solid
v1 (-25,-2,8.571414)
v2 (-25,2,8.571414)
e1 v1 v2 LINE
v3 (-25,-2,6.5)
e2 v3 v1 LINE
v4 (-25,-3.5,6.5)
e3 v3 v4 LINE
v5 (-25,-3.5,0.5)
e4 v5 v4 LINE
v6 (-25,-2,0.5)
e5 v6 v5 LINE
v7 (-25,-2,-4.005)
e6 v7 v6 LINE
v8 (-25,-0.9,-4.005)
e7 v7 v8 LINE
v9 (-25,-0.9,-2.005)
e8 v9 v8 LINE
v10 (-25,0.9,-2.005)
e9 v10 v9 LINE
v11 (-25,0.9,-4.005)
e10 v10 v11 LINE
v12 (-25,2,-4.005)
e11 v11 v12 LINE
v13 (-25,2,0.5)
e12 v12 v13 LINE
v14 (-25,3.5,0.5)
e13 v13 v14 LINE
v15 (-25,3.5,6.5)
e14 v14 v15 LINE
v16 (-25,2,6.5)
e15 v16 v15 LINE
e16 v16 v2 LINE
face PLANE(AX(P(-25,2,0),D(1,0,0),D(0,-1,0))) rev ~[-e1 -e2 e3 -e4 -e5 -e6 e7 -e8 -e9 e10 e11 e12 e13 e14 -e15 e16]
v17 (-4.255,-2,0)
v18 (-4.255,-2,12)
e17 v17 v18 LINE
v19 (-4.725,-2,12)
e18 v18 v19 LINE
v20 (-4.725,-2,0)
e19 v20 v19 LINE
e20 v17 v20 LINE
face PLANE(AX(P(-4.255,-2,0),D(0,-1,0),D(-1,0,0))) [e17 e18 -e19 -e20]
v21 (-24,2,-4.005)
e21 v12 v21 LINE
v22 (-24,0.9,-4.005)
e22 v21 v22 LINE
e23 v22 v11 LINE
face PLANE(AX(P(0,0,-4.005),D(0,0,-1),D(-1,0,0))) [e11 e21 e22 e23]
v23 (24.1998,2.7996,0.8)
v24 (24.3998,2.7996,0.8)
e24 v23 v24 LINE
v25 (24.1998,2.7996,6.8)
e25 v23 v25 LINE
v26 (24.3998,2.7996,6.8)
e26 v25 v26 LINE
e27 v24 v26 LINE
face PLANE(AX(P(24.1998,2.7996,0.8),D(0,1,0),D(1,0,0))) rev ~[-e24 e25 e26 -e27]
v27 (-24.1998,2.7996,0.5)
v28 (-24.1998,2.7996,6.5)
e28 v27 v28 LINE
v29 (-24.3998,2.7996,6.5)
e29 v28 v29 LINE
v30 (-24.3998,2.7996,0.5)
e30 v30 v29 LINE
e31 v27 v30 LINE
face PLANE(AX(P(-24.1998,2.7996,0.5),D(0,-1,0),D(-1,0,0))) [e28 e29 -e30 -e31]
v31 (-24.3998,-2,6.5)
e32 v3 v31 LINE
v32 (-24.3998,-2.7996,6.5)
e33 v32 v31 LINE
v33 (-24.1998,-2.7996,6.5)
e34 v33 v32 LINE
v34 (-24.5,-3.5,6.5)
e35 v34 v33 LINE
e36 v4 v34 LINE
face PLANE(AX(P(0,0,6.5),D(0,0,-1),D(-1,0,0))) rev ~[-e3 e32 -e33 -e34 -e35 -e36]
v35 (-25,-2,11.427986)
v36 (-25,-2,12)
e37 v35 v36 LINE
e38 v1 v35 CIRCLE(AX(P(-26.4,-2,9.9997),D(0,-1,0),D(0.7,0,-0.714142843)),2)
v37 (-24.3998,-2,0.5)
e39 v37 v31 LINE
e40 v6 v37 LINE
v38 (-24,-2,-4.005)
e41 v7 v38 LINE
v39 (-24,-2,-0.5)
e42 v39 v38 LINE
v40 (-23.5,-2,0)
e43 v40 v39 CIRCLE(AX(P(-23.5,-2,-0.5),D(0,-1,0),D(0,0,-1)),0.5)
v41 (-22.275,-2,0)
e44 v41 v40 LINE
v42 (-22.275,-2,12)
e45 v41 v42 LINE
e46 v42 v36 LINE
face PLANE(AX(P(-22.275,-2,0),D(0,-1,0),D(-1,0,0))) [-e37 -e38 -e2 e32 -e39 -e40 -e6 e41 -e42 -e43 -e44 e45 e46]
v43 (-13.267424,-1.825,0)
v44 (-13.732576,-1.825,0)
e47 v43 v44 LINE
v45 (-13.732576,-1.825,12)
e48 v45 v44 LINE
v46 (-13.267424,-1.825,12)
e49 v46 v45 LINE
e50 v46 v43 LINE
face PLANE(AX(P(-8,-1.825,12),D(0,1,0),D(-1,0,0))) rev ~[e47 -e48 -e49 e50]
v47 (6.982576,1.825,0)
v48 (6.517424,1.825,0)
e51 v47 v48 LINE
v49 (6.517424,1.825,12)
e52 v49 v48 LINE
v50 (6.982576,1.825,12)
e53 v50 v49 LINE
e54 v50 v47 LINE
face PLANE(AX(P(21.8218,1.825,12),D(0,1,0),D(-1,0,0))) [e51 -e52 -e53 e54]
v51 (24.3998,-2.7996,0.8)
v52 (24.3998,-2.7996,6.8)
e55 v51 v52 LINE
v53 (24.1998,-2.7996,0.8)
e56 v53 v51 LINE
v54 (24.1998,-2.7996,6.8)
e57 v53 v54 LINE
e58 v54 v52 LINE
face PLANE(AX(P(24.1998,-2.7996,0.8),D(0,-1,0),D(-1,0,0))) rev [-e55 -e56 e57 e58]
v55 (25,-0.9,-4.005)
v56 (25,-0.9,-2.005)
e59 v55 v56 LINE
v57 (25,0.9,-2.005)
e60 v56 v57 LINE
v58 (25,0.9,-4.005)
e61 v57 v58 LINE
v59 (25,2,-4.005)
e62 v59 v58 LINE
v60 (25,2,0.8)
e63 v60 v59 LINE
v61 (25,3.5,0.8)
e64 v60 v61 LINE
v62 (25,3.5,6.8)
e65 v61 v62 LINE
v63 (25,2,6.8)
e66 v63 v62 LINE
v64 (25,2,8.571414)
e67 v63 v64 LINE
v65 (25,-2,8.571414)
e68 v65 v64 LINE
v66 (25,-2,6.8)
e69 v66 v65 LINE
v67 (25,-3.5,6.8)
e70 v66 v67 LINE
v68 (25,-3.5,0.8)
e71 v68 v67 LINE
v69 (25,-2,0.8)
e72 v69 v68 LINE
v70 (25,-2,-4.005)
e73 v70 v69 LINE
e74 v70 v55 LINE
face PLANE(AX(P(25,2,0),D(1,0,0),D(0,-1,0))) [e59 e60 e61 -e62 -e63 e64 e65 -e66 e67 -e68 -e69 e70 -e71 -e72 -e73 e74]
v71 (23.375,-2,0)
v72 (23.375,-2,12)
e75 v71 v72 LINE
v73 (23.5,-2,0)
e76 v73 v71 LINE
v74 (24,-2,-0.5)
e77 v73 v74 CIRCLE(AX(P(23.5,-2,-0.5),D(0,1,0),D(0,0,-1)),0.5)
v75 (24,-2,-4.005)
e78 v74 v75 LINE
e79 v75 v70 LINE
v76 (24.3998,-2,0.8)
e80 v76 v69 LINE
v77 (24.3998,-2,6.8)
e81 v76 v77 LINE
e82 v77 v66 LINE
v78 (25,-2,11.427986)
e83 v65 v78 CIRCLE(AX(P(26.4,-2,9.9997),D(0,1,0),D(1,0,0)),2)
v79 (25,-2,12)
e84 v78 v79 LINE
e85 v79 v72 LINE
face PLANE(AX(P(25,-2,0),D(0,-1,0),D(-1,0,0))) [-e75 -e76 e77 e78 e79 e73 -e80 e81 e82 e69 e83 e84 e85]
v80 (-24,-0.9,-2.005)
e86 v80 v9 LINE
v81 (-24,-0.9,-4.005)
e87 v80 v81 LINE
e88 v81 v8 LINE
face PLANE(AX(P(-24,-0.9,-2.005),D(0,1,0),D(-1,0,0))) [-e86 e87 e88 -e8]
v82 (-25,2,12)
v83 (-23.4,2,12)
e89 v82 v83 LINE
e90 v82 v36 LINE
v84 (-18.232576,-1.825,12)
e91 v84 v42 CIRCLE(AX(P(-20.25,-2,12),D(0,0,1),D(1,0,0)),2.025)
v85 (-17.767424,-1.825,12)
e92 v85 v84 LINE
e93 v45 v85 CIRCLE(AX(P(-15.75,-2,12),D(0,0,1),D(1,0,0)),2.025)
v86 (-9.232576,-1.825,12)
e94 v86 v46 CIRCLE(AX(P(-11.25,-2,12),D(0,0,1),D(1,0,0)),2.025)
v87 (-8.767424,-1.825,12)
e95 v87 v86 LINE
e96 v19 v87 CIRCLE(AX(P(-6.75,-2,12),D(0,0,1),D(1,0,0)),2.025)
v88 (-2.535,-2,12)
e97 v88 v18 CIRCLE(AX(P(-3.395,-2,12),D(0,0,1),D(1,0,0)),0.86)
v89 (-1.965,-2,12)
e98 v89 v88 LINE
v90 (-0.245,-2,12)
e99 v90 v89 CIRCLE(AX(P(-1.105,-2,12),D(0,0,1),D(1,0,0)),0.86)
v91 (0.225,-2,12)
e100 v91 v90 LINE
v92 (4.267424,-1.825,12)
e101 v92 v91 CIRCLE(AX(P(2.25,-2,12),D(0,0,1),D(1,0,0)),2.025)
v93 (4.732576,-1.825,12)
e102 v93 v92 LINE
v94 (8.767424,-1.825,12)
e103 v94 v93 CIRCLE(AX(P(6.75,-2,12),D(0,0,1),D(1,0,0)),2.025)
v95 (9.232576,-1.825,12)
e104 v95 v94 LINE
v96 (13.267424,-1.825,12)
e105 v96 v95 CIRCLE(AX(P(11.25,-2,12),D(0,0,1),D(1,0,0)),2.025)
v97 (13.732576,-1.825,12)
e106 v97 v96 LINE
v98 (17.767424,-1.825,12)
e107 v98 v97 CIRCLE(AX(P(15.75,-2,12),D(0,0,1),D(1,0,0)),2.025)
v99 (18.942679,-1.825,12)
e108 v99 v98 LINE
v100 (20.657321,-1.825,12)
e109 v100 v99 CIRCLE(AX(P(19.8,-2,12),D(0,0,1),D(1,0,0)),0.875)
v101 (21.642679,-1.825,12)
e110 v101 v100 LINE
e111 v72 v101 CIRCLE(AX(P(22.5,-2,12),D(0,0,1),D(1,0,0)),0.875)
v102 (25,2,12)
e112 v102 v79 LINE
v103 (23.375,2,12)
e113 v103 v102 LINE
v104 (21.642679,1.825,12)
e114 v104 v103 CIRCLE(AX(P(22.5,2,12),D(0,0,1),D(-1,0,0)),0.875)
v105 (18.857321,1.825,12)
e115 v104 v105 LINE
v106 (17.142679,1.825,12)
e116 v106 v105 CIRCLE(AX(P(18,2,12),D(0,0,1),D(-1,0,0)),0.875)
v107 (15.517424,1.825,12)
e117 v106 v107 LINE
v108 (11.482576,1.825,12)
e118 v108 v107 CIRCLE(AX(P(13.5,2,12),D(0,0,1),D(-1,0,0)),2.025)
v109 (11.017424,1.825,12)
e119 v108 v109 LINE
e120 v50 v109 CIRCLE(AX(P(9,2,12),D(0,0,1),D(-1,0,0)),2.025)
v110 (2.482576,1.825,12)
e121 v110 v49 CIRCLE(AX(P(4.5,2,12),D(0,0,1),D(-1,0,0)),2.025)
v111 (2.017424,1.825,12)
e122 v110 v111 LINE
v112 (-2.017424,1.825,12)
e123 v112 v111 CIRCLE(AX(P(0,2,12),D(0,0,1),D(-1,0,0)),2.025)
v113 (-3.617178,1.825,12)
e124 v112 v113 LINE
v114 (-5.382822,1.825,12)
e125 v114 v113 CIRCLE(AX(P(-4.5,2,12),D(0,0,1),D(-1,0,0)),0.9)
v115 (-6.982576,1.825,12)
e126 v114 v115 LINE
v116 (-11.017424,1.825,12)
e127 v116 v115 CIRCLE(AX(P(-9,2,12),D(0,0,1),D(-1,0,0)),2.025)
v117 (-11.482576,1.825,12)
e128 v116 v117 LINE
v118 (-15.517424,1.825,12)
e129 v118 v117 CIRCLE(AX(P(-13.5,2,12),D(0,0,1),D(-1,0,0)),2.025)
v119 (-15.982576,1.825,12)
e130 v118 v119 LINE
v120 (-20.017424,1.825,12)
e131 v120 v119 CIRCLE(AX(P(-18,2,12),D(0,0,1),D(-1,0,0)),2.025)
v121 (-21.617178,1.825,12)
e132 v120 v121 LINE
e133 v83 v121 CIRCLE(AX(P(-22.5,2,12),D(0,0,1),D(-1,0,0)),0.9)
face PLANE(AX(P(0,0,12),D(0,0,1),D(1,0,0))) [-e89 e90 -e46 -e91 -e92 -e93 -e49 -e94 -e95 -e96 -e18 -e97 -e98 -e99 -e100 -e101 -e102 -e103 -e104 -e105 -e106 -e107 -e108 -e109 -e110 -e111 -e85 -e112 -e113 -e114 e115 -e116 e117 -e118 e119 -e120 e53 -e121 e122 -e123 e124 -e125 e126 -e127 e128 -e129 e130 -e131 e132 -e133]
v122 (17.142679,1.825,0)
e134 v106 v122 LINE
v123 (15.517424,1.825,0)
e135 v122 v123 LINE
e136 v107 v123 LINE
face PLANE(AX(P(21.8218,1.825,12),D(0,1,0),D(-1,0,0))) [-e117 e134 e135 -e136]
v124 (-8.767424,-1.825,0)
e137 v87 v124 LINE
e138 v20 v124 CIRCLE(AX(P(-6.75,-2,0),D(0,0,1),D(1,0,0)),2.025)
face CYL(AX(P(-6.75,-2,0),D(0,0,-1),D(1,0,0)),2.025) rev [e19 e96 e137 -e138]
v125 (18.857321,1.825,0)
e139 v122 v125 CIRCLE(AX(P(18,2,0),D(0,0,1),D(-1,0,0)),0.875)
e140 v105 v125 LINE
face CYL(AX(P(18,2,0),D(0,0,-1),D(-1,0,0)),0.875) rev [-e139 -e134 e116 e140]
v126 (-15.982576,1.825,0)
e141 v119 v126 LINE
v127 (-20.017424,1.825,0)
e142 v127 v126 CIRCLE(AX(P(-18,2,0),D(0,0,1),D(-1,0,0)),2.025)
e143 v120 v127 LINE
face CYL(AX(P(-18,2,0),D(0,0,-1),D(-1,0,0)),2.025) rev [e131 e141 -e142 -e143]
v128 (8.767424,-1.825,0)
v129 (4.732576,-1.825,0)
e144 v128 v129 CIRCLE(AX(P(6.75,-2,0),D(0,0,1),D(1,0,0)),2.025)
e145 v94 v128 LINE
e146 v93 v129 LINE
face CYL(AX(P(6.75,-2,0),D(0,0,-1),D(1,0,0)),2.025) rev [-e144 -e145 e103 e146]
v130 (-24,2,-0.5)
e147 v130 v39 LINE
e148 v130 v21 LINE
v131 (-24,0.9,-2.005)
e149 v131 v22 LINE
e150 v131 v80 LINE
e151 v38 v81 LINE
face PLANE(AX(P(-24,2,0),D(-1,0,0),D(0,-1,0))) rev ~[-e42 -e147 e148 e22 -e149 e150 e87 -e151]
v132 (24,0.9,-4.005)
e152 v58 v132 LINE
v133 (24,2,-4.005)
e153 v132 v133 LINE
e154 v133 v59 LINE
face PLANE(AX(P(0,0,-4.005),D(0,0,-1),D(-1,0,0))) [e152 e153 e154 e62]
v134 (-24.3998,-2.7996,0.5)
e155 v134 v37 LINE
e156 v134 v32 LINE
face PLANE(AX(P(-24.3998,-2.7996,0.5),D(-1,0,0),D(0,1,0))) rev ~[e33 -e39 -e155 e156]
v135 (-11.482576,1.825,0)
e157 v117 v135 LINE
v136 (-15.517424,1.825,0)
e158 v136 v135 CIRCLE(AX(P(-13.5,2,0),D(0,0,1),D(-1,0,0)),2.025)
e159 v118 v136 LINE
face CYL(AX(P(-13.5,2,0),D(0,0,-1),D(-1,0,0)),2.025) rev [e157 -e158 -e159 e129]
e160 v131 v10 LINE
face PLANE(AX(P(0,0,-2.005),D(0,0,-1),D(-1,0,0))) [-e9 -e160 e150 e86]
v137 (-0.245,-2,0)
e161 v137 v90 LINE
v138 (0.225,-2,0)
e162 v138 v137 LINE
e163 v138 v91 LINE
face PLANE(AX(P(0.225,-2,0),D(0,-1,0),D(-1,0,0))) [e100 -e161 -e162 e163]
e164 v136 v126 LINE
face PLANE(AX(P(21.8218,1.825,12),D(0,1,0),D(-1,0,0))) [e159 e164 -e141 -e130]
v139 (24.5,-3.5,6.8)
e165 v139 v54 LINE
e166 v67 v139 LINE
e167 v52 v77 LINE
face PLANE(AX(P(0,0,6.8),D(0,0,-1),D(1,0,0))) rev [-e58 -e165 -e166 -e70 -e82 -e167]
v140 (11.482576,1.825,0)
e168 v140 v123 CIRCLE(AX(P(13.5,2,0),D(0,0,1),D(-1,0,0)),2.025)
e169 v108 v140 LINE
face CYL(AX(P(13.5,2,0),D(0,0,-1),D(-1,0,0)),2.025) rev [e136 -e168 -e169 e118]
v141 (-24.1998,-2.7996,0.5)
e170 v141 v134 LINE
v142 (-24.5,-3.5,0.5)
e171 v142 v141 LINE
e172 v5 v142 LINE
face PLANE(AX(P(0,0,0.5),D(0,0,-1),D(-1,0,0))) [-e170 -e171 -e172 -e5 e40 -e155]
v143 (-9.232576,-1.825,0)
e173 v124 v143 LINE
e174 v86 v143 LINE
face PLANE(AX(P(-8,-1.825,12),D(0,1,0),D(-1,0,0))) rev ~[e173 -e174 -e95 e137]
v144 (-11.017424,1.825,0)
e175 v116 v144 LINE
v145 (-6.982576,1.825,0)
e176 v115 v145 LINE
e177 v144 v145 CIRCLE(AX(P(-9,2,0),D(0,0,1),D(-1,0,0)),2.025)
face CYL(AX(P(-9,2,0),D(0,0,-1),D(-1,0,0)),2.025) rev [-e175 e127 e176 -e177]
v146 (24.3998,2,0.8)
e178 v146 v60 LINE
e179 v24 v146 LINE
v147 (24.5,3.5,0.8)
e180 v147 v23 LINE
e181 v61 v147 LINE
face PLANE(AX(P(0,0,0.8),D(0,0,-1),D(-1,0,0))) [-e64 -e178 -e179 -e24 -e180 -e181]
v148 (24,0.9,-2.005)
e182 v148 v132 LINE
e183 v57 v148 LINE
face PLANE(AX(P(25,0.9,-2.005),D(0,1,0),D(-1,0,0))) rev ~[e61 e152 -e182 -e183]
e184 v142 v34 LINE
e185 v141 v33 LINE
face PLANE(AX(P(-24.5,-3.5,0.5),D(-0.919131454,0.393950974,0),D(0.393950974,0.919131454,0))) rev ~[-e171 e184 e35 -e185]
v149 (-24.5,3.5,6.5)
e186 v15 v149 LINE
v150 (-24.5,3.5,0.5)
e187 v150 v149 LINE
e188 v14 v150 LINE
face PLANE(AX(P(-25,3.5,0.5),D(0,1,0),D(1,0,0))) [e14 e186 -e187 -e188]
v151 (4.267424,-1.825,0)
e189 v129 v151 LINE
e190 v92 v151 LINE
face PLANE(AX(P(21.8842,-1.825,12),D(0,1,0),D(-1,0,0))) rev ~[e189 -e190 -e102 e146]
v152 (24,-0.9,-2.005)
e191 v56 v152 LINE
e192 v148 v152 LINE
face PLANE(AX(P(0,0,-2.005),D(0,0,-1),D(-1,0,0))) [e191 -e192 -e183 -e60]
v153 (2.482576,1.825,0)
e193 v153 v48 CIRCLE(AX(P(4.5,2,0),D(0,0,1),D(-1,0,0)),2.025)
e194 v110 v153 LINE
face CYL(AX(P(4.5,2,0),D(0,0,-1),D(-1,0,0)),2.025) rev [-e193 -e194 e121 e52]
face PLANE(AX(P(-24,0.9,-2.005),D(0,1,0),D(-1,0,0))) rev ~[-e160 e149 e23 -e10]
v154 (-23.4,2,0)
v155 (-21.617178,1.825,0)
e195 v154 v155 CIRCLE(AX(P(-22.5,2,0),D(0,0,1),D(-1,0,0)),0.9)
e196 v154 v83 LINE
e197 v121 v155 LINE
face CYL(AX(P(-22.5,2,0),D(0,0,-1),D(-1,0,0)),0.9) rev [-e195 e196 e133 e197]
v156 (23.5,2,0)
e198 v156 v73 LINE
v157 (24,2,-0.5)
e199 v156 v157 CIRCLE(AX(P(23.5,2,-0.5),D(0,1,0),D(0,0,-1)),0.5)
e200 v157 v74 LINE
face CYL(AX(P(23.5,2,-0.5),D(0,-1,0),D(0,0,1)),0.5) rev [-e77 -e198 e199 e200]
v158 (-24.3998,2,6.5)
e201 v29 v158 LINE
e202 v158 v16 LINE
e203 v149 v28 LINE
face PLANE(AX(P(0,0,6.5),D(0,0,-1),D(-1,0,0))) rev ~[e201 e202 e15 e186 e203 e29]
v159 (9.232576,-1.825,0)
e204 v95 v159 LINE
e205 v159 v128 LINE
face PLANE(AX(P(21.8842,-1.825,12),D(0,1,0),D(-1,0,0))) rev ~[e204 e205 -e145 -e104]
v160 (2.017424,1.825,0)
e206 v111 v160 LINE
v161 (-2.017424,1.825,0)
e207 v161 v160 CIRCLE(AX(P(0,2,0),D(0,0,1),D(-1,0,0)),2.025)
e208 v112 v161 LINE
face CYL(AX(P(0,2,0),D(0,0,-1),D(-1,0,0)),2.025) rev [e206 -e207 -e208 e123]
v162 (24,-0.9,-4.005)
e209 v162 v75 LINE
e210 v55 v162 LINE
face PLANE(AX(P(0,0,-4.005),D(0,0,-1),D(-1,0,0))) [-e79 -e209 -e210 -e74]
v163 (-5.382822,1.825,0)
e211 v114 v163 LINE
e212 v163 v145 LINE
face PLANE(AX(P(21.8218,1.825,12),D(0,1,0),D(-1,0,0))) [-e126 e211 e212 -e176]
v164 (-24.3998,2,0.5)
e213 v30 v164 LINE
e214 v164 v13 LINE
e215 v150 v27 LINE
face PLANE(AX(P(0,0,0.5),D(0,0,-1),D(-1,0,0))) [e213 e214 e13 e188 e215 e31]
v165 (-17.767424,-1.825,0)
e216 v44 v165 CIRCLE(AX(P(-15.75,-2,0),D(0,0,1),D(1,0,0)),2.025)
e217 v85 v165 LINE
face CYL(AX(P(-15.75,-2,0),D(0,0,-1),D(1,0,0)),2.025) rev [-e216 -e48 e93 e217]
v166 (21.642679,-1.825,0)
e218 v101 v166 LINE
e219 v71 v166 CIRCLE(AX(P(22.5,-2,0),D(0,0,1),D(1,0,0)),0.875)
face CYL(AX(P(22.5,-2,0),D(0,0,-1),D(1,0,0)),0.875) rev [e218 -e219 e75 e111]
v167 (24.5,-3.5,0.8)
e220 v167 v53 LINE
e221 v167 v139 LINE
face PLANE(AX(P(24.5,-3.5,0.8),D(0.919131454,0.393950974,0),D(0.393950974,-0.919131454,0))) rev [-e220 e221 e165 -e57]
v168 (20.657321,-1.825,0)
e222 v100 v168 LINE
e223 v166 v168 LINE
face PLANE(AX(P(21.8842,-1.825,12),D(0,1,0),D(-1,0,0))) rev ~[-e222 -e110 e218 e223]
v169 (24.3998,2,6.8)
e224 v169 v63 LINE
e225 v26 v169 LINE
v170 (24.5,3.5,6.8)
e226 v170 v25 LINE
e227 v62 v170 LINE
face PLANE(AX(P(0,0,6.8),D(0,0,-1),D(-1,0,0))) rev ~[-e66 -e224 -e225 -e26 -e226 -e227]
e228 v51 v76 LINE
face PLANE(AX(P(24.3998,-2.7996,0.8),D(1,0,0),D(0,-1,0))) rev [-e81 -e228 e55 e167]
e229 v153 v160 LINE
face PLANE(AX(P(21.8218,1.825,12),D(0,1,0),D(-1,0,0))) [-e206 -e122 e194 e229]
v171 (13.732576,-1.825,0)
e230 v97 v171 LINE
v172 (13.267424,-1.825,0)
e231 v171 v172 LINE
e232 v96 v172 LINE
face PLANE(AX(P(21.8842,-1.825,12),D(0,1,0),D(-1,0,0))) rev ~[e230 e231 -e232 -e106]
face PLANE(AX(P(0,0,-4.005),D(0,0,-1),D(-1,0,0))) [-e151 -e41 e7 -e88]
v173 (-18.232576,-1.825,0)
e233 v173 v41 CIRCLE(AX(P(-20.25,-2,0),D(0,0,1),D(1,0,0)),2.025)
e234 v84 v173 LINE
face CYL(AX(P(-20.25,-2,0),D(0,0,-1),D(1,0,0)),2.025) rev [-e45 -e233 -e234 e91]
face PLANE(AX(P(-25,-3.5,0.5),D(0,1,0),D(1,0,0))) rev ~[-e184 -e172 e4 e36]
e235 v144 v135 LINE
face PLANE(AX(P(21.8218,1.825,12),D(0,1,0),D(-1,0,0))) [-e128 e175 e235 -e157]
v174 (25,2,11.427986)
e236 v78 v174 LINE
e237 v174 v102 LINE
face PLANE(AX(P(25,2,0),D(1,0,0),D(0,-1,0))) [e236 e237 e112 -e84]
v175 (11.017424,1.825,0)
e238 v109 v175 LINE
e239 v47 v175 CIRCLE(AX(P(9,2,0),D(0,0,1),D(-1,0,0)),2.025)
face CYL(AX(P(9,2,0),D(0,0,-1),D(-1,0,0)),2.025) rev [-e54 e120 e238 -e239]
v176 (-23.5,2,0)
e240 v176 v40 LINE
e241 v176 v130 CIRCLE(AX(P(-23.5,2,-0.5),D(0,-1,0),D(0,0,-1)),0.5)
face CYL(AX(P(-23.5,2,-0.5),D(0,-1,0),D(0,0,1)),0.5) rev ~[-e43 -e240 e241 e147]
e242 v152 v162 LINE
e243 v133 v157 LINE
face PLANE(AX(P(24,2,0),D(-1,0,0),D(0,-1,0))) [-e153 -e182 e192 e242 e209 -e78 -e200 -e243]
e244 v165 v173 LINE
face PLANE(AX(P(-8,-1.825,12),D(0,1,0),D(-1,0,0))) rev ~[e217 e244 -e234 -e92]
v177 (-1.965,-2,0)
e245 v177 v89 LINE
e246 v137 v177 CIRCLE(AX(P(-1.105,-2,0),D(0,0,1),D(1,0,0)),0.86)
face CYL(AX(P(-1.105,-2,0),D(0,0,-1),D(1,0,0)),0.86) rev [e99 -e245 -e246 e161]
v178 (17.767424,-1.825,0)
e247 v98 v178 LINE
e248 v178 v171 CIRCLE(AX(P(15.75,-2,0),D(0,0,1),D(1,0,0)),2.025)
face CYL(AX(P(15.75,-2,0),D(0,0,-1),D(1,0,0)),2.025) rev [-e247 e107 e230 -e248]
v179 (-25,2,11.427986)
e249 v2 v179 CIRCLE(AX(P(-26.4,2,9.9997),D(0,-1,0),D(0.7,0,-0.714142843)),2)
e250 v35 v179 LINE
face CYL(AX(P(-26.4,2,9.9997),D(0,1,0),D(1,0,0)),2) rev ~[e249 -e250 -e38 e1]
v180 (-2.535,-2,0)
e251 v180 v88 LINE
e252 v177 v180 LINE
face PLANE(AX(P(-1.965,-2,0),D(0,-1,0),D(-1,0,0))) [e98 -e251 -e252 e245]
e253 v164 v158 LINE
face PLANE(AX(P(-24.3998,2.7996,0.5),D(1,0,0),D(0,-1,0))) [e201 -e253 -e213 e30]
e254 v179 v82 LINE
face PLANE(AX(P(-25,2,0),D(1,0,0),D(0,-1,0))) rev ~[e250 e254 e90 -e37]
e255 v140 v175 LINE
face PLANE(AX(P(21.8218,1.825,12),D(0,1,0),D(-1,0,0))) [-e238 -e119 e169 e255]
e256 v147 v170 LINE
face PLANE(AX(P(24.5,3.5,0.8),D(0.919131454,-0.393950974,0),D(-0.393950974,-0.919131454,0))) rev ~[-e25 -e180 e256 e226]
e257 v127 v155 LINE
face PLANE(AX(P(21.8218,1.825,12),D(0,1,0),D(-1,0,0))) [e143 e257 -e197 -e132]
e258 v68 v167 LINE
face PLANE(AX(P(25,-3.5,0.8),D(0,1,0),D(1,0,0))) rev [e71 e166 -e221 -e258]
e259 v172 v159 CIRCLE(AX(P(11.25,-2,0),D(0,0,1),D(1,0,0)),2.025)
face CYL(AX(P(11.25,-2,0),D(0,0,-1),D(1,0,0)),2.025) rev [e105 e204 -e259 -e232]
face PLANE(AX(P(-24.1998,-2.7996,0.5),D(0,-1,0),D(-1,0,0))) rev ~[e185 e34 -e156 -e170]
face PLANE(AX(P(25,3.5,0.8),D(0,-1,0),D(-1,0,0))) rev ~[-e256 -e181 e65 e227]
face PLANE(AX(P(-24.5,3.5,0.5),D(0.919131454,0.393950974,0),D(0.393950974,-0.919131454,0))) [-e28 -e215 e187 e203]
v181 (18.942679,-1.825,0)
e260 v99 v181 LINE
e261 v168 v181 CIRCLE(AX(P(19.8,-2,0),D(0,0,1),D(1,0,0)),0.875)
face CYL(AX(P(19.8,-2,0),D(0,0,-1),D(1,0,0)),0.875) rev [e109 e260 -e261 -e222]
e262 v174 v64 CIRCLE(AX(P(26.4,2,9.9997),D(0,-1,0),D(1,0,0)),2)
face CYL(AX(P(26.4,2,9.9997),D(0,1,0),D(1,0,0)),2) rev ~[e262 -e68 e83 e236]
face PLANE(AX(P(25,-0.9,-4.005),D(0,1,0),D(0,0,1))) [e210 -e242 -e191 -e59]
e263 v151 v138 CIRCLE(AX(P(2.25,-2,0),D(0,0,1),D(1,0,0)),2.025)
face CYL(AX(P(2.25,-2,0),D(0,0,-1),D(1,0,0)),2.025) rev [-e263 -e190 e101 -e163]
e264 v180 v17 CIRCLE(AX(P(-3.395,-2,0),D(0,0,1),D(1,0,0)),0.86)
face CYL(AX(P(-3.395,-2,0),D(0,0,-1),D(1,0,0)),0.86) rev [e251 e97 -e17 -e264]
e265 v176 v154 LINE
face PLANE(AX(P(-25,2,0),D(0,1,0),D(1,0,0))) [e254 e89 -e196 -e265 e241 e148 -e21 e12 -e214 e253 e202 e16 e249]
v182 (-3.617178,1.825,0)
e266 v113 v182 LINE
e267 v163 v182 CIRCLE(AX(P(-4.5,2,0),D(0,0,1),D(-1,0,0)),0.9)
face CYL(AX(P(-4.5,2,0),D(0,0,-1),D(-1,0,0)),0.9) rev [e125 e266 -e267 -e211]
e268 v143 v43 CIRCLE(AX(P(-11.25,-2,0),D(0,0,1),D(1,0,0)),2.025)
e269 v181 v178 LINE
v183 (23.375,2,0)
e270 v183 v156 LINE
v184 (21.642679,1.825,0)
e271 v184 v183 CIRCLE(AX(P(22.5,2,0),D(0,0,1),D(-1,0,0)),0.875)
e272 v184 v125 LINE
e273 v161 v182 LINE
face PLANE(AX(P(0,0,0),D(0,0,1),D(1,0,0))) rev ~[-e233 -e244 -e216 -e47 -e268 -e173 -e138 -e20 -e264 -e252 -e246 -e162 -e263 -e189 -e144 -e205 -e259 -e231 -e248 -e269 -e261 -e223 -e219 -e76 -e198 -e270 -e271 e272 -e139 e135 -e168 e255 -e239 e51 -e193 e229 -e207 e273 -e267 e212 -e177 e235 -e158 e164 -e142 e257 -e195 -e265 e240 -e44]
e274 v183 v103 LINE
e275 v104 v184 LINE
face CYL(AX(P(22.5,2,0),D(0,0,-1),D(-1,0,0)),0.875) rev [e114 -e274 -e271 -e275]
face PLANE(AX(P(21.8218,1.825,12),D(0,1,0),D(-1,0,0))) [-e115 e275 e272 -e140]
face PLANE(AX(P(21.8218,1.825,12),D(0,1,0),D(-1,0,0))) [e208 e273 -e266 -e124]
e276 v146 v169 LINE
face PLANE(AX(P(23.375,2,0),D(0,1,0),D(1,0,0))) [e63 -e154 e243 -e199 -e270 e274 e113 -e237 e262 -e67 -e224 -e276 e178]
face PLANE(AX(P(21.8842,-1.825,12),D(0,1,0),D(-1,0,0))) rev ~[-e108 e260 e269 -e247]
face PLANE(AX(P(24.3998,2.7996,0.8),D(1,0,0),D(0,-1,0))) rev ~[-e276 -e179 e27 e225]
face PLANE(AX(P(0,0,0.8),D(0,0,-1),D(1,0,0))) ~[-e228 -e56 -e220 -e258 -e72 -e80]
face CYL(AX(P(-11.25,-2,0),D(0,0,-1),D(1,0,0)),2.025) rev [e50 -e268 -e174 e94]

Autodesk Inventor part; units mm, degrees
sketch "Sketch1" plane through (0, 0, 0) normal (0, 0, 1) x (1, 0, 0)
  line L0 (-25, 2) -> (-25, -2)
  line L1 (0, 0.3189) -> (0, -1.0844) construction
  line L2 (-25, 2) -> (25, 2)
  line L3 (25, 2) -> (25, -2)
  line L4 (25, -2) -> (-25, -2)
  line L5 (-1.8046, 0) -> (4.5195, 0) construction
  arc A0 (-23.4, 2) -> (-21.6, 2) centre (-22.5, 2) ccw
  arc A1 (-20.025, 2) -> (-15.975, 2) centre (-18, 2) ccw
  arc A2 (-15.525, 2) -> (-11.475, 2) centre (-13.5, 2) ccw
  arc A3 (-11.025, 2) -> (-6.975, 2) centre (-9, 2) ccw
  arc A4 (-5.4, 2) -> (-3.6, 2) centre (-4.5, 2) ccw
  arc A5 (-2.025, 2) -> (2.025, 2) centre (0, 2) ccw
  arc A6 (2.475, 2) -> (6.525, 2) centre (4.5, 2) ccw
  arc A7 (6.975, 2) -> (11.025, 2) centre (9, 2) ccw
  arc A8 (11.475, 2) -> (15.525, 2) centre (13.5, 2) ccw
  arc A9 (17.125, 2) -> (18.875, 2) centre (18, 2) ccw
  arc A10 (21.625, 2) -> (23.375, 2) centre (22.5, 2) ccw
  arc A11 (-18.225, -2) -> (-22.275, -2) centre (-20.25, -2) ccw
  arc A12 (-13.725, -2) -> (-17.775, -2) centre (-15.75, -2) ccw
  arc A13 (-9.225, -2) -> (-13.275, -2) centre (-11.25, -2) ccw
  arc A14 (-4.725, -2) -> (-8.775, -2) centre (-6.75, -2) ccw
  arc A15 (-2.535, -2) -> (-4.255, -2) centre (-3.395, -2) ccw
  arc A16 (-0.245, -2) -> (-1.965, -2) centre (-1.105, -2) ccw
  arc A17 (4.275, -2) -> (0.225, -2) centre (2.25, -2) ccw
  arc A18 (8.775, -2) -> (4.725, -2) centre (6.75, -2) ccw
  arc A19 (13.275, -2) -> (9.225, -2) centre (11.25, -2) ccw
  arc A20 (17.775, -2) -> (13.725, -2) centre (15.75, -2) ccw
  arc A21 (20.675, -2) -> (18.925, -2) centre (19.8, -2) ccw
  arc A22 (23.375, -2) -> (21.625, -2) centre (22.5, -2) ccw
  point P0 (0, 0)
  dimension "d0" = 4
  dimension "d1" = 50
  dimension "d2" = 2.5
  dimension "d3" = 4.5
  dimension "d4" = 4.5
  dimension "d5" = 4.5
  dimension "d6" = 4.5
  dimension "d7" = 4.5
  dimension "d8" = 4.5
  dimension "d10" = 4.5
  dimension "d11" = 4.5
  dimension "d12" = 4.5
  dimension "d13" = 4.5
  dimension "d14" = 1.8
  dimension "d15" = 4.05
  dimension "d16" = 4.05
  dimension "d17" = 4.05
  dimension "d18" = 1.8
  dimension "d19" = 4.05
  dimension "d20" = 4.05
  dimension "d21" = 4.05
  dimension "d22" = 4.05
  dimension "d23" = 1.75
  dimension "d24" = 1.75
  dimension "d25" = 4.05
  dimension "d27" = 4.5
  dimension "d28" = 4.5
  dimension "d29" = 4.5
  dimension "d30" = 3.355
  dimension "d31" = 2.29
  dimension "d32" = 3.355
  dimension "d33" = 4.5
  dimension "d34" = 4.5
  dimension "d35" = 4.5
  dimension "d37" = 1.75
  dimension "d38" = 4.05
  dimension "d39" = 4.05
  dimension "d40" = 4.05
  dimension "d41" = 4.05
  dimension "d42" = 1.72
  dimension "d43" = 1.72
  dimension "d44" = 4.05
  dimension "d45" = 4.05
  dimension "d46" = 4.05
  dimension "d47" = 1.75
  dimension "d48" = 2.7
  dimension "d136" = 2.5
  dimension "d143" = 4.05
extrude "Extrusion1" add sketch "Sketch1" along normal blind 12 contours L2 A0 A1 A2 A3 A4 A5 A6 A7 A8 A9 A10 L3 L4 A22 A21 A20 A19 A18 A17 A16 A15 A14 A13 A12 A11 L0
sketch "Sketch2" plane through (23.375, 2, 0) normal (0, 1, 0) x (1, 0, 0)
  circle A0 centre (3.025, -9.9997) radius 2
  line L0 (1.625, 0) -> (1.625, -12) projected
  line L1 (1.625, -12) -> (1.625, -11.428)
  point P0 (-23.375, 0)
  dimension "d51" = 4
  dimension "d52" = 0.572
  dimension "d55" = 1.4
extrude "Extrusion2" cut sketch "Sketch2" against normal blind 12.5
sketch "Sketch3" plane through (-25, 2, 0) normal (0, 1, 0) x (1, 0, 0)
  circle A0 centre (-1.4, -9.9997) radius 2
  line L0 (0, 0) -> (0, -12) projected
  line L1 (0, -12) -> (0, -11.428)
  point P0 (25, 0)
  dimension "d58" = 4
  dimension "d59" = 0.572
  dimension "d60" = 1.4
extrude "Extrusion3" cut sketch "Sketch3" against normal blind 12.5
sketch "Sketch4" plane through (0, 0, 12) normal (0, 0, 1) x (1, 0, 0)
  line L0 (-22.4782, 2) -> (21.8218, 2)
  line L1 (21.8218, 2) -> (21.8218, 1.825)
  line L2 (21.8218, 1.825) -> (-22.4782, 1.825)
  line L3 (-22.4782, 1.825) -> (-22.4782, 2)
  line L4 (-20.025, 2) -> (-21.6, 2) projected
  line L5 (-25, 2) -> (-25, -2) projected
  line L6 (13.275, -2) -> (13.725, -2) projected
  line L7 (-21.5, -2) -> (-8, -2)
  line L8 (-8, -2) -> (-8, -1.825)
  line L9 (-8, -1.825) -> (-21.5, -1.825)
  line L10 (-21.5, -1.825) -> (-21.5, -2)
  line L11 (0.89, -2) -> (21.8842, -2)
  line L12 (21.8842, -2) -> (21.8842, -1.825)
  line L13 (21.8842, -1.825) -> (0.89, -1.825)
  line L14 (0.89, -1.825) -> (0.89, -2)
  line L15 (-13.725, -2) -> (-13.275, -2) projected
  line L16 (25, -2) -> (25, 2) projected
  point P0 (0, 0)
  point P1 (-20.8125, 2)
  point P2 (13.5, -2)
  point P3 (-13.5, -2)
  dimension "d63" = 0.175
  dimension "d64" = 44.3
  dimension "d65" = 2.5218
  dimension "d69" = 0.175
  dimension "d70" = 0.175
  dimension "d71" = 3.5
  dimension "d72" = 17
  dimension "d73" = 3.1158
  dimension "d74" = 24.11
extrude "Extrusion4" cut sketch "Sketch4" against normal blind 12.5
ref_plane "Work Plane1" through (0, 0, 0.5) normal (0, 0, -1) x (-1, 0, 0)
sketch "Sketch5" plane through (0, 0, 0.5) normal (0, 0, -1) x (-1, 0, 0)
  line L0 (25, 2) -> (25, -2) projected
  line L1 (25, 2) -> (25, 3.5)
  line L2 (25, 3.5) -> (24.5, 3.5)
  line L3 (24.5, 3.5) -> (24.1998, 2.7996)
  line L4 (24.1998, 2.7996) -> (24.3998, 2.7996)
  line L5 (24.3998, 2.7996) -> (24.3998, 2)
  line L6 (23.4, 2) -> (25, 2) projected
  line L7 (25, -2) -> (22.275, -2) projected
  line L8 (25, -2) -> (25, -3.5)
  line L9 (25, -3.5) -> (24.5, -3.5)
  line L10 (24.5, -3.5) -> (24.1998, -2.7996)
  line L11 (24.1998, -2.7996) -> (24.3998, -2.7996)
  line L12 (24.3998, -2.7996) -> (24.3998, -2)
  line L13 (0, 0) -> (0, 7.5844) construction
  line L14 (25, 2) -> (24.3998, 2)
  line L15 (25, -2) -> (24.3998, -2)
  line L16 (-25, 2) -> (-25, -2)
  line L17 (-25, 2) -> (-25, 3.5)
  line L18 (-25, 3.5) -> (-24.5, 3.5)
  line L19 (-24.5, 3.5) -> (-24.1998, 2.7996)
  line L20 (-24.1998, 2.7996) -> (-24.3998, 2.7996)
  line L21 (-24.3998, 2.7996) -> (-24.3998, 2)
  line L22 (-23.4, 2) -> (-25, 2)
  line L23 (-25, -2) -> (-22.275, -2)
  line L24 (-25, -2) -> (-25, -3.5)
  line L25 (-25, -3.5) -> (-24.5, -3.5)
  line L26 (-24.5, -3.5) -> (-24.1998, -2.7996)
  line L27 (-24.1998, -2.7996) -> (-24.3998, -2.7996)
  line L28 (-24.3998, -2.7996) -> (-24.3998, -2)
  line L29 (-25, 2) -> (-24.3998, 2)
  line L30 (-25, -2) -> (-24.3998, -2)
  dimension "d78" = 1.5
  dimension "d79" = 0.5
  dimension "d80" = 0.762
  dimension "d81" = 0.2
  dimension "d83" = 113.2
  dimension "d84" = 0.7996
  dimension "d85" = 1.5
  dimension "d86" = 0.5
  dimension "d87" = 113.2
  dimension "d88" = 0.2
  dimension "d89" = 0.762
extrude "Extrusion5" add sketch "Sketch5" against normal blind 6 contours L8 L9 L10 L11 L12 L7 | L6 L5 L4 L3 L2 L1
ref_plane "Work Plane2" through (0, 0, 0.8) normal (0, 0, -1) x (-1, 0, 0)
sketch "Sketch8" plane through (0, 0, 0.8) normal (0, 0, -1) x (-1, 0, 0)
  line L0 (25, 2) -> (25, 3.5)
  line L1 (25, 3.5) -> (24.5, 3.5)
  line L2 (24.5, 3.5) -> (24.1998, 2.7996)
  line L3 (24.1998, 2.7996) -> (24.3998, 2.7996)
  line L4 (24.3998, 2.7996) -> (24.3998, 2)
  line L5 (24.25, 2) -> (25, 2)
  line L6 (25, 2) -> (24.3998, 2)
  arc A0 (-2.0174, 1.825) -> (2.0174, 1.825) centre (0, 2) ccw projected
  line L7 (0, 2) -> (0, 7.911) construction
  line L8 (-24.25, 2) -> (-25, 2)
  line L9 (-25, 2) -> (-24.3998, 2)
  line L10 (-24.1998, 2.7996) -> (-24.3998, 2.7996)
  line L11 (-24.3998, 2.7996) -> (-24.3998, 2)
  line L12 (-25, 2) -> (-25, 3.5)
  line L13 (-25, 3.5) -> (-24.5, 3.5)
  line L14 (-24.5, 3.5) -> (-24.1998, 2.7996)
  point P0 (0, 0)
  dimension "d112" = 1.5
  dimension "d113" = 0.5
  dimension "d114" = 0.762
  dimension "d115" = 0.2
  dimension "d116" = 113.2
  dimension "d117" = 0.7996
extrude "Extrusion8" add sketch "Sketch8" against normal blind 6 contours L8 L12 L13 L14 L10 L11
mirror "Mirror1" about plane through (0, 0, 0) normal (0, 1, 0) of "Extrusion8"
ref_plane "Work Plane3" through (0, 0, 1.3) normal (0, 0, -1) x (-1, 0, 0)
sketch "Sketch11" plane through (0, 0, 0) normal (0, 0, -1) x (-1, 0, 0)
  line L0 (-25, 2) -> (-24.4, 2) projected
  line L1 (-23.375, -2) -> (-25, -2) projected
  line L2 (-25, 2) -> (-24, 2)
  line L3 (-24, 2) -> (-24, -2)
  line L4 (-24, -2) -> (-25, -2)
  line L5 (-25, -2) -> (-25, 2)
  line L6 (25, 2) -> (25, -2) projected
  line L7 (25, -2) -> (22.275, -2) projected
  line L8 (25, 2) -> (24, 2)
  line L9 (24, 2) -> (24, -2)
  line L10 (24, -2) -> (25, -2)
  line L11 (25, -2) -> (25, 2)
  point P0 (0, 0)
  dimension "d145" = 1
  dimension "d146" = 1
extrude "Extrusion11" add sketch "Sketch11" along normal blind 2.005
fillet "Fillet1" radius 0.5 2 edges at (24, 0, 0) (-24, 0, 0)
sketch "Sketch12" plane through (0, 0, -2.005) normal (0, 0, -1) x (-1, 0, 0)
  line L0 (-25, 2) -> (-25, -2) projected
  line L1 (-24, -2) -> (-24, 2) projected
  line L2 (-25, 0.9) -> (-24, 0.9)
  line L3 (-24, 0.9) -> (-24, -0.8147)
  line L4 (-24, -0.8147) -> (-25, -0.8147)
  line L5 (-25, -0.8147) -> (-25, 0.9)
  line L6 (-24, 2) -> (-25, 2) projected
  line L7 (-23.375, -2) -> (-25, -2) projected
  line L8 (-25, -2) -> (-24, -2)
  line L9 (-24, -2) -> (-24, -0.9)
  line L10 (-24, -0.9) -> (-25, -0.9)
  line L11 (-25, -0.9) -> (-25, -2)
  line L12 (25, -2) -> (25, 2) projected
  line L13 (25, 2) -> (24, 2)
  line L14 (24, 2) -> (24, 0.9)
  line L15 (24, 0.9) -> (25, 0.9)
  line L16 (25, 0.9) -> (25, 2)
  line L17 (25, -2) -> (25, -3.5) projected
  line L18 (25, -2) -> (24, -2)
  line L19 (24, -2) -> (24, -0.9)
  line L20 (24, -0.9) -> (25, -0.9)
  line L21 (25, -0.9) -> (25, -2)
  point P0 (0, 0)
  dimension "d150" = 1.1
  dimension "d151" = 1.1
  dimension "d152" = 1
  dimension "d153" = 1.1
  dimension "d154" = 1
  dimension "d155" = 1.1
extrude "Extrusion12" add sketch "Sketch12" along normal blind 2 contours L6 L1 L2 L0 | L4 L1 L10 L0 | L10 L1 L7 L0 | L18 L19 L20 L12 | L15 L14 L13 L12
sketch "Sketch13" plane through (25, -2, 8.5714) normal (1, 0, 0) x (0, 0, -1)
  line L0 (12.5764, 0) -> (12.5764, 1.1853) projected
  line L1 (12.5764, 1.1853) -> (10.5764, 1.1853)
  line L2 (12.5764, 1.2003) -> (12.5764, 1.1853)
  line L3 (119.9448, 1.2) -> (10.5764, 1.2) construction
  line L4 (10.5764, 1.2) -> (12.5764, 1.2)
  line L5 (12.5764, 1.2) -> (12.5764, 1.1)
  line L6 (12.5764, 1.1) -> (10.5764, 1.1)
  line L7 (10.5764, 1.1) -> (10.5764, 1.2)
  point P0 (8.5714, 2)
  dimension "d159" = 0.1
extrude "Extrusion13" cut sketch "Sketch13" against normal blind 10
properties part number "3d_LM - Pinza 3" material "PA12 SLS 3D Print"
